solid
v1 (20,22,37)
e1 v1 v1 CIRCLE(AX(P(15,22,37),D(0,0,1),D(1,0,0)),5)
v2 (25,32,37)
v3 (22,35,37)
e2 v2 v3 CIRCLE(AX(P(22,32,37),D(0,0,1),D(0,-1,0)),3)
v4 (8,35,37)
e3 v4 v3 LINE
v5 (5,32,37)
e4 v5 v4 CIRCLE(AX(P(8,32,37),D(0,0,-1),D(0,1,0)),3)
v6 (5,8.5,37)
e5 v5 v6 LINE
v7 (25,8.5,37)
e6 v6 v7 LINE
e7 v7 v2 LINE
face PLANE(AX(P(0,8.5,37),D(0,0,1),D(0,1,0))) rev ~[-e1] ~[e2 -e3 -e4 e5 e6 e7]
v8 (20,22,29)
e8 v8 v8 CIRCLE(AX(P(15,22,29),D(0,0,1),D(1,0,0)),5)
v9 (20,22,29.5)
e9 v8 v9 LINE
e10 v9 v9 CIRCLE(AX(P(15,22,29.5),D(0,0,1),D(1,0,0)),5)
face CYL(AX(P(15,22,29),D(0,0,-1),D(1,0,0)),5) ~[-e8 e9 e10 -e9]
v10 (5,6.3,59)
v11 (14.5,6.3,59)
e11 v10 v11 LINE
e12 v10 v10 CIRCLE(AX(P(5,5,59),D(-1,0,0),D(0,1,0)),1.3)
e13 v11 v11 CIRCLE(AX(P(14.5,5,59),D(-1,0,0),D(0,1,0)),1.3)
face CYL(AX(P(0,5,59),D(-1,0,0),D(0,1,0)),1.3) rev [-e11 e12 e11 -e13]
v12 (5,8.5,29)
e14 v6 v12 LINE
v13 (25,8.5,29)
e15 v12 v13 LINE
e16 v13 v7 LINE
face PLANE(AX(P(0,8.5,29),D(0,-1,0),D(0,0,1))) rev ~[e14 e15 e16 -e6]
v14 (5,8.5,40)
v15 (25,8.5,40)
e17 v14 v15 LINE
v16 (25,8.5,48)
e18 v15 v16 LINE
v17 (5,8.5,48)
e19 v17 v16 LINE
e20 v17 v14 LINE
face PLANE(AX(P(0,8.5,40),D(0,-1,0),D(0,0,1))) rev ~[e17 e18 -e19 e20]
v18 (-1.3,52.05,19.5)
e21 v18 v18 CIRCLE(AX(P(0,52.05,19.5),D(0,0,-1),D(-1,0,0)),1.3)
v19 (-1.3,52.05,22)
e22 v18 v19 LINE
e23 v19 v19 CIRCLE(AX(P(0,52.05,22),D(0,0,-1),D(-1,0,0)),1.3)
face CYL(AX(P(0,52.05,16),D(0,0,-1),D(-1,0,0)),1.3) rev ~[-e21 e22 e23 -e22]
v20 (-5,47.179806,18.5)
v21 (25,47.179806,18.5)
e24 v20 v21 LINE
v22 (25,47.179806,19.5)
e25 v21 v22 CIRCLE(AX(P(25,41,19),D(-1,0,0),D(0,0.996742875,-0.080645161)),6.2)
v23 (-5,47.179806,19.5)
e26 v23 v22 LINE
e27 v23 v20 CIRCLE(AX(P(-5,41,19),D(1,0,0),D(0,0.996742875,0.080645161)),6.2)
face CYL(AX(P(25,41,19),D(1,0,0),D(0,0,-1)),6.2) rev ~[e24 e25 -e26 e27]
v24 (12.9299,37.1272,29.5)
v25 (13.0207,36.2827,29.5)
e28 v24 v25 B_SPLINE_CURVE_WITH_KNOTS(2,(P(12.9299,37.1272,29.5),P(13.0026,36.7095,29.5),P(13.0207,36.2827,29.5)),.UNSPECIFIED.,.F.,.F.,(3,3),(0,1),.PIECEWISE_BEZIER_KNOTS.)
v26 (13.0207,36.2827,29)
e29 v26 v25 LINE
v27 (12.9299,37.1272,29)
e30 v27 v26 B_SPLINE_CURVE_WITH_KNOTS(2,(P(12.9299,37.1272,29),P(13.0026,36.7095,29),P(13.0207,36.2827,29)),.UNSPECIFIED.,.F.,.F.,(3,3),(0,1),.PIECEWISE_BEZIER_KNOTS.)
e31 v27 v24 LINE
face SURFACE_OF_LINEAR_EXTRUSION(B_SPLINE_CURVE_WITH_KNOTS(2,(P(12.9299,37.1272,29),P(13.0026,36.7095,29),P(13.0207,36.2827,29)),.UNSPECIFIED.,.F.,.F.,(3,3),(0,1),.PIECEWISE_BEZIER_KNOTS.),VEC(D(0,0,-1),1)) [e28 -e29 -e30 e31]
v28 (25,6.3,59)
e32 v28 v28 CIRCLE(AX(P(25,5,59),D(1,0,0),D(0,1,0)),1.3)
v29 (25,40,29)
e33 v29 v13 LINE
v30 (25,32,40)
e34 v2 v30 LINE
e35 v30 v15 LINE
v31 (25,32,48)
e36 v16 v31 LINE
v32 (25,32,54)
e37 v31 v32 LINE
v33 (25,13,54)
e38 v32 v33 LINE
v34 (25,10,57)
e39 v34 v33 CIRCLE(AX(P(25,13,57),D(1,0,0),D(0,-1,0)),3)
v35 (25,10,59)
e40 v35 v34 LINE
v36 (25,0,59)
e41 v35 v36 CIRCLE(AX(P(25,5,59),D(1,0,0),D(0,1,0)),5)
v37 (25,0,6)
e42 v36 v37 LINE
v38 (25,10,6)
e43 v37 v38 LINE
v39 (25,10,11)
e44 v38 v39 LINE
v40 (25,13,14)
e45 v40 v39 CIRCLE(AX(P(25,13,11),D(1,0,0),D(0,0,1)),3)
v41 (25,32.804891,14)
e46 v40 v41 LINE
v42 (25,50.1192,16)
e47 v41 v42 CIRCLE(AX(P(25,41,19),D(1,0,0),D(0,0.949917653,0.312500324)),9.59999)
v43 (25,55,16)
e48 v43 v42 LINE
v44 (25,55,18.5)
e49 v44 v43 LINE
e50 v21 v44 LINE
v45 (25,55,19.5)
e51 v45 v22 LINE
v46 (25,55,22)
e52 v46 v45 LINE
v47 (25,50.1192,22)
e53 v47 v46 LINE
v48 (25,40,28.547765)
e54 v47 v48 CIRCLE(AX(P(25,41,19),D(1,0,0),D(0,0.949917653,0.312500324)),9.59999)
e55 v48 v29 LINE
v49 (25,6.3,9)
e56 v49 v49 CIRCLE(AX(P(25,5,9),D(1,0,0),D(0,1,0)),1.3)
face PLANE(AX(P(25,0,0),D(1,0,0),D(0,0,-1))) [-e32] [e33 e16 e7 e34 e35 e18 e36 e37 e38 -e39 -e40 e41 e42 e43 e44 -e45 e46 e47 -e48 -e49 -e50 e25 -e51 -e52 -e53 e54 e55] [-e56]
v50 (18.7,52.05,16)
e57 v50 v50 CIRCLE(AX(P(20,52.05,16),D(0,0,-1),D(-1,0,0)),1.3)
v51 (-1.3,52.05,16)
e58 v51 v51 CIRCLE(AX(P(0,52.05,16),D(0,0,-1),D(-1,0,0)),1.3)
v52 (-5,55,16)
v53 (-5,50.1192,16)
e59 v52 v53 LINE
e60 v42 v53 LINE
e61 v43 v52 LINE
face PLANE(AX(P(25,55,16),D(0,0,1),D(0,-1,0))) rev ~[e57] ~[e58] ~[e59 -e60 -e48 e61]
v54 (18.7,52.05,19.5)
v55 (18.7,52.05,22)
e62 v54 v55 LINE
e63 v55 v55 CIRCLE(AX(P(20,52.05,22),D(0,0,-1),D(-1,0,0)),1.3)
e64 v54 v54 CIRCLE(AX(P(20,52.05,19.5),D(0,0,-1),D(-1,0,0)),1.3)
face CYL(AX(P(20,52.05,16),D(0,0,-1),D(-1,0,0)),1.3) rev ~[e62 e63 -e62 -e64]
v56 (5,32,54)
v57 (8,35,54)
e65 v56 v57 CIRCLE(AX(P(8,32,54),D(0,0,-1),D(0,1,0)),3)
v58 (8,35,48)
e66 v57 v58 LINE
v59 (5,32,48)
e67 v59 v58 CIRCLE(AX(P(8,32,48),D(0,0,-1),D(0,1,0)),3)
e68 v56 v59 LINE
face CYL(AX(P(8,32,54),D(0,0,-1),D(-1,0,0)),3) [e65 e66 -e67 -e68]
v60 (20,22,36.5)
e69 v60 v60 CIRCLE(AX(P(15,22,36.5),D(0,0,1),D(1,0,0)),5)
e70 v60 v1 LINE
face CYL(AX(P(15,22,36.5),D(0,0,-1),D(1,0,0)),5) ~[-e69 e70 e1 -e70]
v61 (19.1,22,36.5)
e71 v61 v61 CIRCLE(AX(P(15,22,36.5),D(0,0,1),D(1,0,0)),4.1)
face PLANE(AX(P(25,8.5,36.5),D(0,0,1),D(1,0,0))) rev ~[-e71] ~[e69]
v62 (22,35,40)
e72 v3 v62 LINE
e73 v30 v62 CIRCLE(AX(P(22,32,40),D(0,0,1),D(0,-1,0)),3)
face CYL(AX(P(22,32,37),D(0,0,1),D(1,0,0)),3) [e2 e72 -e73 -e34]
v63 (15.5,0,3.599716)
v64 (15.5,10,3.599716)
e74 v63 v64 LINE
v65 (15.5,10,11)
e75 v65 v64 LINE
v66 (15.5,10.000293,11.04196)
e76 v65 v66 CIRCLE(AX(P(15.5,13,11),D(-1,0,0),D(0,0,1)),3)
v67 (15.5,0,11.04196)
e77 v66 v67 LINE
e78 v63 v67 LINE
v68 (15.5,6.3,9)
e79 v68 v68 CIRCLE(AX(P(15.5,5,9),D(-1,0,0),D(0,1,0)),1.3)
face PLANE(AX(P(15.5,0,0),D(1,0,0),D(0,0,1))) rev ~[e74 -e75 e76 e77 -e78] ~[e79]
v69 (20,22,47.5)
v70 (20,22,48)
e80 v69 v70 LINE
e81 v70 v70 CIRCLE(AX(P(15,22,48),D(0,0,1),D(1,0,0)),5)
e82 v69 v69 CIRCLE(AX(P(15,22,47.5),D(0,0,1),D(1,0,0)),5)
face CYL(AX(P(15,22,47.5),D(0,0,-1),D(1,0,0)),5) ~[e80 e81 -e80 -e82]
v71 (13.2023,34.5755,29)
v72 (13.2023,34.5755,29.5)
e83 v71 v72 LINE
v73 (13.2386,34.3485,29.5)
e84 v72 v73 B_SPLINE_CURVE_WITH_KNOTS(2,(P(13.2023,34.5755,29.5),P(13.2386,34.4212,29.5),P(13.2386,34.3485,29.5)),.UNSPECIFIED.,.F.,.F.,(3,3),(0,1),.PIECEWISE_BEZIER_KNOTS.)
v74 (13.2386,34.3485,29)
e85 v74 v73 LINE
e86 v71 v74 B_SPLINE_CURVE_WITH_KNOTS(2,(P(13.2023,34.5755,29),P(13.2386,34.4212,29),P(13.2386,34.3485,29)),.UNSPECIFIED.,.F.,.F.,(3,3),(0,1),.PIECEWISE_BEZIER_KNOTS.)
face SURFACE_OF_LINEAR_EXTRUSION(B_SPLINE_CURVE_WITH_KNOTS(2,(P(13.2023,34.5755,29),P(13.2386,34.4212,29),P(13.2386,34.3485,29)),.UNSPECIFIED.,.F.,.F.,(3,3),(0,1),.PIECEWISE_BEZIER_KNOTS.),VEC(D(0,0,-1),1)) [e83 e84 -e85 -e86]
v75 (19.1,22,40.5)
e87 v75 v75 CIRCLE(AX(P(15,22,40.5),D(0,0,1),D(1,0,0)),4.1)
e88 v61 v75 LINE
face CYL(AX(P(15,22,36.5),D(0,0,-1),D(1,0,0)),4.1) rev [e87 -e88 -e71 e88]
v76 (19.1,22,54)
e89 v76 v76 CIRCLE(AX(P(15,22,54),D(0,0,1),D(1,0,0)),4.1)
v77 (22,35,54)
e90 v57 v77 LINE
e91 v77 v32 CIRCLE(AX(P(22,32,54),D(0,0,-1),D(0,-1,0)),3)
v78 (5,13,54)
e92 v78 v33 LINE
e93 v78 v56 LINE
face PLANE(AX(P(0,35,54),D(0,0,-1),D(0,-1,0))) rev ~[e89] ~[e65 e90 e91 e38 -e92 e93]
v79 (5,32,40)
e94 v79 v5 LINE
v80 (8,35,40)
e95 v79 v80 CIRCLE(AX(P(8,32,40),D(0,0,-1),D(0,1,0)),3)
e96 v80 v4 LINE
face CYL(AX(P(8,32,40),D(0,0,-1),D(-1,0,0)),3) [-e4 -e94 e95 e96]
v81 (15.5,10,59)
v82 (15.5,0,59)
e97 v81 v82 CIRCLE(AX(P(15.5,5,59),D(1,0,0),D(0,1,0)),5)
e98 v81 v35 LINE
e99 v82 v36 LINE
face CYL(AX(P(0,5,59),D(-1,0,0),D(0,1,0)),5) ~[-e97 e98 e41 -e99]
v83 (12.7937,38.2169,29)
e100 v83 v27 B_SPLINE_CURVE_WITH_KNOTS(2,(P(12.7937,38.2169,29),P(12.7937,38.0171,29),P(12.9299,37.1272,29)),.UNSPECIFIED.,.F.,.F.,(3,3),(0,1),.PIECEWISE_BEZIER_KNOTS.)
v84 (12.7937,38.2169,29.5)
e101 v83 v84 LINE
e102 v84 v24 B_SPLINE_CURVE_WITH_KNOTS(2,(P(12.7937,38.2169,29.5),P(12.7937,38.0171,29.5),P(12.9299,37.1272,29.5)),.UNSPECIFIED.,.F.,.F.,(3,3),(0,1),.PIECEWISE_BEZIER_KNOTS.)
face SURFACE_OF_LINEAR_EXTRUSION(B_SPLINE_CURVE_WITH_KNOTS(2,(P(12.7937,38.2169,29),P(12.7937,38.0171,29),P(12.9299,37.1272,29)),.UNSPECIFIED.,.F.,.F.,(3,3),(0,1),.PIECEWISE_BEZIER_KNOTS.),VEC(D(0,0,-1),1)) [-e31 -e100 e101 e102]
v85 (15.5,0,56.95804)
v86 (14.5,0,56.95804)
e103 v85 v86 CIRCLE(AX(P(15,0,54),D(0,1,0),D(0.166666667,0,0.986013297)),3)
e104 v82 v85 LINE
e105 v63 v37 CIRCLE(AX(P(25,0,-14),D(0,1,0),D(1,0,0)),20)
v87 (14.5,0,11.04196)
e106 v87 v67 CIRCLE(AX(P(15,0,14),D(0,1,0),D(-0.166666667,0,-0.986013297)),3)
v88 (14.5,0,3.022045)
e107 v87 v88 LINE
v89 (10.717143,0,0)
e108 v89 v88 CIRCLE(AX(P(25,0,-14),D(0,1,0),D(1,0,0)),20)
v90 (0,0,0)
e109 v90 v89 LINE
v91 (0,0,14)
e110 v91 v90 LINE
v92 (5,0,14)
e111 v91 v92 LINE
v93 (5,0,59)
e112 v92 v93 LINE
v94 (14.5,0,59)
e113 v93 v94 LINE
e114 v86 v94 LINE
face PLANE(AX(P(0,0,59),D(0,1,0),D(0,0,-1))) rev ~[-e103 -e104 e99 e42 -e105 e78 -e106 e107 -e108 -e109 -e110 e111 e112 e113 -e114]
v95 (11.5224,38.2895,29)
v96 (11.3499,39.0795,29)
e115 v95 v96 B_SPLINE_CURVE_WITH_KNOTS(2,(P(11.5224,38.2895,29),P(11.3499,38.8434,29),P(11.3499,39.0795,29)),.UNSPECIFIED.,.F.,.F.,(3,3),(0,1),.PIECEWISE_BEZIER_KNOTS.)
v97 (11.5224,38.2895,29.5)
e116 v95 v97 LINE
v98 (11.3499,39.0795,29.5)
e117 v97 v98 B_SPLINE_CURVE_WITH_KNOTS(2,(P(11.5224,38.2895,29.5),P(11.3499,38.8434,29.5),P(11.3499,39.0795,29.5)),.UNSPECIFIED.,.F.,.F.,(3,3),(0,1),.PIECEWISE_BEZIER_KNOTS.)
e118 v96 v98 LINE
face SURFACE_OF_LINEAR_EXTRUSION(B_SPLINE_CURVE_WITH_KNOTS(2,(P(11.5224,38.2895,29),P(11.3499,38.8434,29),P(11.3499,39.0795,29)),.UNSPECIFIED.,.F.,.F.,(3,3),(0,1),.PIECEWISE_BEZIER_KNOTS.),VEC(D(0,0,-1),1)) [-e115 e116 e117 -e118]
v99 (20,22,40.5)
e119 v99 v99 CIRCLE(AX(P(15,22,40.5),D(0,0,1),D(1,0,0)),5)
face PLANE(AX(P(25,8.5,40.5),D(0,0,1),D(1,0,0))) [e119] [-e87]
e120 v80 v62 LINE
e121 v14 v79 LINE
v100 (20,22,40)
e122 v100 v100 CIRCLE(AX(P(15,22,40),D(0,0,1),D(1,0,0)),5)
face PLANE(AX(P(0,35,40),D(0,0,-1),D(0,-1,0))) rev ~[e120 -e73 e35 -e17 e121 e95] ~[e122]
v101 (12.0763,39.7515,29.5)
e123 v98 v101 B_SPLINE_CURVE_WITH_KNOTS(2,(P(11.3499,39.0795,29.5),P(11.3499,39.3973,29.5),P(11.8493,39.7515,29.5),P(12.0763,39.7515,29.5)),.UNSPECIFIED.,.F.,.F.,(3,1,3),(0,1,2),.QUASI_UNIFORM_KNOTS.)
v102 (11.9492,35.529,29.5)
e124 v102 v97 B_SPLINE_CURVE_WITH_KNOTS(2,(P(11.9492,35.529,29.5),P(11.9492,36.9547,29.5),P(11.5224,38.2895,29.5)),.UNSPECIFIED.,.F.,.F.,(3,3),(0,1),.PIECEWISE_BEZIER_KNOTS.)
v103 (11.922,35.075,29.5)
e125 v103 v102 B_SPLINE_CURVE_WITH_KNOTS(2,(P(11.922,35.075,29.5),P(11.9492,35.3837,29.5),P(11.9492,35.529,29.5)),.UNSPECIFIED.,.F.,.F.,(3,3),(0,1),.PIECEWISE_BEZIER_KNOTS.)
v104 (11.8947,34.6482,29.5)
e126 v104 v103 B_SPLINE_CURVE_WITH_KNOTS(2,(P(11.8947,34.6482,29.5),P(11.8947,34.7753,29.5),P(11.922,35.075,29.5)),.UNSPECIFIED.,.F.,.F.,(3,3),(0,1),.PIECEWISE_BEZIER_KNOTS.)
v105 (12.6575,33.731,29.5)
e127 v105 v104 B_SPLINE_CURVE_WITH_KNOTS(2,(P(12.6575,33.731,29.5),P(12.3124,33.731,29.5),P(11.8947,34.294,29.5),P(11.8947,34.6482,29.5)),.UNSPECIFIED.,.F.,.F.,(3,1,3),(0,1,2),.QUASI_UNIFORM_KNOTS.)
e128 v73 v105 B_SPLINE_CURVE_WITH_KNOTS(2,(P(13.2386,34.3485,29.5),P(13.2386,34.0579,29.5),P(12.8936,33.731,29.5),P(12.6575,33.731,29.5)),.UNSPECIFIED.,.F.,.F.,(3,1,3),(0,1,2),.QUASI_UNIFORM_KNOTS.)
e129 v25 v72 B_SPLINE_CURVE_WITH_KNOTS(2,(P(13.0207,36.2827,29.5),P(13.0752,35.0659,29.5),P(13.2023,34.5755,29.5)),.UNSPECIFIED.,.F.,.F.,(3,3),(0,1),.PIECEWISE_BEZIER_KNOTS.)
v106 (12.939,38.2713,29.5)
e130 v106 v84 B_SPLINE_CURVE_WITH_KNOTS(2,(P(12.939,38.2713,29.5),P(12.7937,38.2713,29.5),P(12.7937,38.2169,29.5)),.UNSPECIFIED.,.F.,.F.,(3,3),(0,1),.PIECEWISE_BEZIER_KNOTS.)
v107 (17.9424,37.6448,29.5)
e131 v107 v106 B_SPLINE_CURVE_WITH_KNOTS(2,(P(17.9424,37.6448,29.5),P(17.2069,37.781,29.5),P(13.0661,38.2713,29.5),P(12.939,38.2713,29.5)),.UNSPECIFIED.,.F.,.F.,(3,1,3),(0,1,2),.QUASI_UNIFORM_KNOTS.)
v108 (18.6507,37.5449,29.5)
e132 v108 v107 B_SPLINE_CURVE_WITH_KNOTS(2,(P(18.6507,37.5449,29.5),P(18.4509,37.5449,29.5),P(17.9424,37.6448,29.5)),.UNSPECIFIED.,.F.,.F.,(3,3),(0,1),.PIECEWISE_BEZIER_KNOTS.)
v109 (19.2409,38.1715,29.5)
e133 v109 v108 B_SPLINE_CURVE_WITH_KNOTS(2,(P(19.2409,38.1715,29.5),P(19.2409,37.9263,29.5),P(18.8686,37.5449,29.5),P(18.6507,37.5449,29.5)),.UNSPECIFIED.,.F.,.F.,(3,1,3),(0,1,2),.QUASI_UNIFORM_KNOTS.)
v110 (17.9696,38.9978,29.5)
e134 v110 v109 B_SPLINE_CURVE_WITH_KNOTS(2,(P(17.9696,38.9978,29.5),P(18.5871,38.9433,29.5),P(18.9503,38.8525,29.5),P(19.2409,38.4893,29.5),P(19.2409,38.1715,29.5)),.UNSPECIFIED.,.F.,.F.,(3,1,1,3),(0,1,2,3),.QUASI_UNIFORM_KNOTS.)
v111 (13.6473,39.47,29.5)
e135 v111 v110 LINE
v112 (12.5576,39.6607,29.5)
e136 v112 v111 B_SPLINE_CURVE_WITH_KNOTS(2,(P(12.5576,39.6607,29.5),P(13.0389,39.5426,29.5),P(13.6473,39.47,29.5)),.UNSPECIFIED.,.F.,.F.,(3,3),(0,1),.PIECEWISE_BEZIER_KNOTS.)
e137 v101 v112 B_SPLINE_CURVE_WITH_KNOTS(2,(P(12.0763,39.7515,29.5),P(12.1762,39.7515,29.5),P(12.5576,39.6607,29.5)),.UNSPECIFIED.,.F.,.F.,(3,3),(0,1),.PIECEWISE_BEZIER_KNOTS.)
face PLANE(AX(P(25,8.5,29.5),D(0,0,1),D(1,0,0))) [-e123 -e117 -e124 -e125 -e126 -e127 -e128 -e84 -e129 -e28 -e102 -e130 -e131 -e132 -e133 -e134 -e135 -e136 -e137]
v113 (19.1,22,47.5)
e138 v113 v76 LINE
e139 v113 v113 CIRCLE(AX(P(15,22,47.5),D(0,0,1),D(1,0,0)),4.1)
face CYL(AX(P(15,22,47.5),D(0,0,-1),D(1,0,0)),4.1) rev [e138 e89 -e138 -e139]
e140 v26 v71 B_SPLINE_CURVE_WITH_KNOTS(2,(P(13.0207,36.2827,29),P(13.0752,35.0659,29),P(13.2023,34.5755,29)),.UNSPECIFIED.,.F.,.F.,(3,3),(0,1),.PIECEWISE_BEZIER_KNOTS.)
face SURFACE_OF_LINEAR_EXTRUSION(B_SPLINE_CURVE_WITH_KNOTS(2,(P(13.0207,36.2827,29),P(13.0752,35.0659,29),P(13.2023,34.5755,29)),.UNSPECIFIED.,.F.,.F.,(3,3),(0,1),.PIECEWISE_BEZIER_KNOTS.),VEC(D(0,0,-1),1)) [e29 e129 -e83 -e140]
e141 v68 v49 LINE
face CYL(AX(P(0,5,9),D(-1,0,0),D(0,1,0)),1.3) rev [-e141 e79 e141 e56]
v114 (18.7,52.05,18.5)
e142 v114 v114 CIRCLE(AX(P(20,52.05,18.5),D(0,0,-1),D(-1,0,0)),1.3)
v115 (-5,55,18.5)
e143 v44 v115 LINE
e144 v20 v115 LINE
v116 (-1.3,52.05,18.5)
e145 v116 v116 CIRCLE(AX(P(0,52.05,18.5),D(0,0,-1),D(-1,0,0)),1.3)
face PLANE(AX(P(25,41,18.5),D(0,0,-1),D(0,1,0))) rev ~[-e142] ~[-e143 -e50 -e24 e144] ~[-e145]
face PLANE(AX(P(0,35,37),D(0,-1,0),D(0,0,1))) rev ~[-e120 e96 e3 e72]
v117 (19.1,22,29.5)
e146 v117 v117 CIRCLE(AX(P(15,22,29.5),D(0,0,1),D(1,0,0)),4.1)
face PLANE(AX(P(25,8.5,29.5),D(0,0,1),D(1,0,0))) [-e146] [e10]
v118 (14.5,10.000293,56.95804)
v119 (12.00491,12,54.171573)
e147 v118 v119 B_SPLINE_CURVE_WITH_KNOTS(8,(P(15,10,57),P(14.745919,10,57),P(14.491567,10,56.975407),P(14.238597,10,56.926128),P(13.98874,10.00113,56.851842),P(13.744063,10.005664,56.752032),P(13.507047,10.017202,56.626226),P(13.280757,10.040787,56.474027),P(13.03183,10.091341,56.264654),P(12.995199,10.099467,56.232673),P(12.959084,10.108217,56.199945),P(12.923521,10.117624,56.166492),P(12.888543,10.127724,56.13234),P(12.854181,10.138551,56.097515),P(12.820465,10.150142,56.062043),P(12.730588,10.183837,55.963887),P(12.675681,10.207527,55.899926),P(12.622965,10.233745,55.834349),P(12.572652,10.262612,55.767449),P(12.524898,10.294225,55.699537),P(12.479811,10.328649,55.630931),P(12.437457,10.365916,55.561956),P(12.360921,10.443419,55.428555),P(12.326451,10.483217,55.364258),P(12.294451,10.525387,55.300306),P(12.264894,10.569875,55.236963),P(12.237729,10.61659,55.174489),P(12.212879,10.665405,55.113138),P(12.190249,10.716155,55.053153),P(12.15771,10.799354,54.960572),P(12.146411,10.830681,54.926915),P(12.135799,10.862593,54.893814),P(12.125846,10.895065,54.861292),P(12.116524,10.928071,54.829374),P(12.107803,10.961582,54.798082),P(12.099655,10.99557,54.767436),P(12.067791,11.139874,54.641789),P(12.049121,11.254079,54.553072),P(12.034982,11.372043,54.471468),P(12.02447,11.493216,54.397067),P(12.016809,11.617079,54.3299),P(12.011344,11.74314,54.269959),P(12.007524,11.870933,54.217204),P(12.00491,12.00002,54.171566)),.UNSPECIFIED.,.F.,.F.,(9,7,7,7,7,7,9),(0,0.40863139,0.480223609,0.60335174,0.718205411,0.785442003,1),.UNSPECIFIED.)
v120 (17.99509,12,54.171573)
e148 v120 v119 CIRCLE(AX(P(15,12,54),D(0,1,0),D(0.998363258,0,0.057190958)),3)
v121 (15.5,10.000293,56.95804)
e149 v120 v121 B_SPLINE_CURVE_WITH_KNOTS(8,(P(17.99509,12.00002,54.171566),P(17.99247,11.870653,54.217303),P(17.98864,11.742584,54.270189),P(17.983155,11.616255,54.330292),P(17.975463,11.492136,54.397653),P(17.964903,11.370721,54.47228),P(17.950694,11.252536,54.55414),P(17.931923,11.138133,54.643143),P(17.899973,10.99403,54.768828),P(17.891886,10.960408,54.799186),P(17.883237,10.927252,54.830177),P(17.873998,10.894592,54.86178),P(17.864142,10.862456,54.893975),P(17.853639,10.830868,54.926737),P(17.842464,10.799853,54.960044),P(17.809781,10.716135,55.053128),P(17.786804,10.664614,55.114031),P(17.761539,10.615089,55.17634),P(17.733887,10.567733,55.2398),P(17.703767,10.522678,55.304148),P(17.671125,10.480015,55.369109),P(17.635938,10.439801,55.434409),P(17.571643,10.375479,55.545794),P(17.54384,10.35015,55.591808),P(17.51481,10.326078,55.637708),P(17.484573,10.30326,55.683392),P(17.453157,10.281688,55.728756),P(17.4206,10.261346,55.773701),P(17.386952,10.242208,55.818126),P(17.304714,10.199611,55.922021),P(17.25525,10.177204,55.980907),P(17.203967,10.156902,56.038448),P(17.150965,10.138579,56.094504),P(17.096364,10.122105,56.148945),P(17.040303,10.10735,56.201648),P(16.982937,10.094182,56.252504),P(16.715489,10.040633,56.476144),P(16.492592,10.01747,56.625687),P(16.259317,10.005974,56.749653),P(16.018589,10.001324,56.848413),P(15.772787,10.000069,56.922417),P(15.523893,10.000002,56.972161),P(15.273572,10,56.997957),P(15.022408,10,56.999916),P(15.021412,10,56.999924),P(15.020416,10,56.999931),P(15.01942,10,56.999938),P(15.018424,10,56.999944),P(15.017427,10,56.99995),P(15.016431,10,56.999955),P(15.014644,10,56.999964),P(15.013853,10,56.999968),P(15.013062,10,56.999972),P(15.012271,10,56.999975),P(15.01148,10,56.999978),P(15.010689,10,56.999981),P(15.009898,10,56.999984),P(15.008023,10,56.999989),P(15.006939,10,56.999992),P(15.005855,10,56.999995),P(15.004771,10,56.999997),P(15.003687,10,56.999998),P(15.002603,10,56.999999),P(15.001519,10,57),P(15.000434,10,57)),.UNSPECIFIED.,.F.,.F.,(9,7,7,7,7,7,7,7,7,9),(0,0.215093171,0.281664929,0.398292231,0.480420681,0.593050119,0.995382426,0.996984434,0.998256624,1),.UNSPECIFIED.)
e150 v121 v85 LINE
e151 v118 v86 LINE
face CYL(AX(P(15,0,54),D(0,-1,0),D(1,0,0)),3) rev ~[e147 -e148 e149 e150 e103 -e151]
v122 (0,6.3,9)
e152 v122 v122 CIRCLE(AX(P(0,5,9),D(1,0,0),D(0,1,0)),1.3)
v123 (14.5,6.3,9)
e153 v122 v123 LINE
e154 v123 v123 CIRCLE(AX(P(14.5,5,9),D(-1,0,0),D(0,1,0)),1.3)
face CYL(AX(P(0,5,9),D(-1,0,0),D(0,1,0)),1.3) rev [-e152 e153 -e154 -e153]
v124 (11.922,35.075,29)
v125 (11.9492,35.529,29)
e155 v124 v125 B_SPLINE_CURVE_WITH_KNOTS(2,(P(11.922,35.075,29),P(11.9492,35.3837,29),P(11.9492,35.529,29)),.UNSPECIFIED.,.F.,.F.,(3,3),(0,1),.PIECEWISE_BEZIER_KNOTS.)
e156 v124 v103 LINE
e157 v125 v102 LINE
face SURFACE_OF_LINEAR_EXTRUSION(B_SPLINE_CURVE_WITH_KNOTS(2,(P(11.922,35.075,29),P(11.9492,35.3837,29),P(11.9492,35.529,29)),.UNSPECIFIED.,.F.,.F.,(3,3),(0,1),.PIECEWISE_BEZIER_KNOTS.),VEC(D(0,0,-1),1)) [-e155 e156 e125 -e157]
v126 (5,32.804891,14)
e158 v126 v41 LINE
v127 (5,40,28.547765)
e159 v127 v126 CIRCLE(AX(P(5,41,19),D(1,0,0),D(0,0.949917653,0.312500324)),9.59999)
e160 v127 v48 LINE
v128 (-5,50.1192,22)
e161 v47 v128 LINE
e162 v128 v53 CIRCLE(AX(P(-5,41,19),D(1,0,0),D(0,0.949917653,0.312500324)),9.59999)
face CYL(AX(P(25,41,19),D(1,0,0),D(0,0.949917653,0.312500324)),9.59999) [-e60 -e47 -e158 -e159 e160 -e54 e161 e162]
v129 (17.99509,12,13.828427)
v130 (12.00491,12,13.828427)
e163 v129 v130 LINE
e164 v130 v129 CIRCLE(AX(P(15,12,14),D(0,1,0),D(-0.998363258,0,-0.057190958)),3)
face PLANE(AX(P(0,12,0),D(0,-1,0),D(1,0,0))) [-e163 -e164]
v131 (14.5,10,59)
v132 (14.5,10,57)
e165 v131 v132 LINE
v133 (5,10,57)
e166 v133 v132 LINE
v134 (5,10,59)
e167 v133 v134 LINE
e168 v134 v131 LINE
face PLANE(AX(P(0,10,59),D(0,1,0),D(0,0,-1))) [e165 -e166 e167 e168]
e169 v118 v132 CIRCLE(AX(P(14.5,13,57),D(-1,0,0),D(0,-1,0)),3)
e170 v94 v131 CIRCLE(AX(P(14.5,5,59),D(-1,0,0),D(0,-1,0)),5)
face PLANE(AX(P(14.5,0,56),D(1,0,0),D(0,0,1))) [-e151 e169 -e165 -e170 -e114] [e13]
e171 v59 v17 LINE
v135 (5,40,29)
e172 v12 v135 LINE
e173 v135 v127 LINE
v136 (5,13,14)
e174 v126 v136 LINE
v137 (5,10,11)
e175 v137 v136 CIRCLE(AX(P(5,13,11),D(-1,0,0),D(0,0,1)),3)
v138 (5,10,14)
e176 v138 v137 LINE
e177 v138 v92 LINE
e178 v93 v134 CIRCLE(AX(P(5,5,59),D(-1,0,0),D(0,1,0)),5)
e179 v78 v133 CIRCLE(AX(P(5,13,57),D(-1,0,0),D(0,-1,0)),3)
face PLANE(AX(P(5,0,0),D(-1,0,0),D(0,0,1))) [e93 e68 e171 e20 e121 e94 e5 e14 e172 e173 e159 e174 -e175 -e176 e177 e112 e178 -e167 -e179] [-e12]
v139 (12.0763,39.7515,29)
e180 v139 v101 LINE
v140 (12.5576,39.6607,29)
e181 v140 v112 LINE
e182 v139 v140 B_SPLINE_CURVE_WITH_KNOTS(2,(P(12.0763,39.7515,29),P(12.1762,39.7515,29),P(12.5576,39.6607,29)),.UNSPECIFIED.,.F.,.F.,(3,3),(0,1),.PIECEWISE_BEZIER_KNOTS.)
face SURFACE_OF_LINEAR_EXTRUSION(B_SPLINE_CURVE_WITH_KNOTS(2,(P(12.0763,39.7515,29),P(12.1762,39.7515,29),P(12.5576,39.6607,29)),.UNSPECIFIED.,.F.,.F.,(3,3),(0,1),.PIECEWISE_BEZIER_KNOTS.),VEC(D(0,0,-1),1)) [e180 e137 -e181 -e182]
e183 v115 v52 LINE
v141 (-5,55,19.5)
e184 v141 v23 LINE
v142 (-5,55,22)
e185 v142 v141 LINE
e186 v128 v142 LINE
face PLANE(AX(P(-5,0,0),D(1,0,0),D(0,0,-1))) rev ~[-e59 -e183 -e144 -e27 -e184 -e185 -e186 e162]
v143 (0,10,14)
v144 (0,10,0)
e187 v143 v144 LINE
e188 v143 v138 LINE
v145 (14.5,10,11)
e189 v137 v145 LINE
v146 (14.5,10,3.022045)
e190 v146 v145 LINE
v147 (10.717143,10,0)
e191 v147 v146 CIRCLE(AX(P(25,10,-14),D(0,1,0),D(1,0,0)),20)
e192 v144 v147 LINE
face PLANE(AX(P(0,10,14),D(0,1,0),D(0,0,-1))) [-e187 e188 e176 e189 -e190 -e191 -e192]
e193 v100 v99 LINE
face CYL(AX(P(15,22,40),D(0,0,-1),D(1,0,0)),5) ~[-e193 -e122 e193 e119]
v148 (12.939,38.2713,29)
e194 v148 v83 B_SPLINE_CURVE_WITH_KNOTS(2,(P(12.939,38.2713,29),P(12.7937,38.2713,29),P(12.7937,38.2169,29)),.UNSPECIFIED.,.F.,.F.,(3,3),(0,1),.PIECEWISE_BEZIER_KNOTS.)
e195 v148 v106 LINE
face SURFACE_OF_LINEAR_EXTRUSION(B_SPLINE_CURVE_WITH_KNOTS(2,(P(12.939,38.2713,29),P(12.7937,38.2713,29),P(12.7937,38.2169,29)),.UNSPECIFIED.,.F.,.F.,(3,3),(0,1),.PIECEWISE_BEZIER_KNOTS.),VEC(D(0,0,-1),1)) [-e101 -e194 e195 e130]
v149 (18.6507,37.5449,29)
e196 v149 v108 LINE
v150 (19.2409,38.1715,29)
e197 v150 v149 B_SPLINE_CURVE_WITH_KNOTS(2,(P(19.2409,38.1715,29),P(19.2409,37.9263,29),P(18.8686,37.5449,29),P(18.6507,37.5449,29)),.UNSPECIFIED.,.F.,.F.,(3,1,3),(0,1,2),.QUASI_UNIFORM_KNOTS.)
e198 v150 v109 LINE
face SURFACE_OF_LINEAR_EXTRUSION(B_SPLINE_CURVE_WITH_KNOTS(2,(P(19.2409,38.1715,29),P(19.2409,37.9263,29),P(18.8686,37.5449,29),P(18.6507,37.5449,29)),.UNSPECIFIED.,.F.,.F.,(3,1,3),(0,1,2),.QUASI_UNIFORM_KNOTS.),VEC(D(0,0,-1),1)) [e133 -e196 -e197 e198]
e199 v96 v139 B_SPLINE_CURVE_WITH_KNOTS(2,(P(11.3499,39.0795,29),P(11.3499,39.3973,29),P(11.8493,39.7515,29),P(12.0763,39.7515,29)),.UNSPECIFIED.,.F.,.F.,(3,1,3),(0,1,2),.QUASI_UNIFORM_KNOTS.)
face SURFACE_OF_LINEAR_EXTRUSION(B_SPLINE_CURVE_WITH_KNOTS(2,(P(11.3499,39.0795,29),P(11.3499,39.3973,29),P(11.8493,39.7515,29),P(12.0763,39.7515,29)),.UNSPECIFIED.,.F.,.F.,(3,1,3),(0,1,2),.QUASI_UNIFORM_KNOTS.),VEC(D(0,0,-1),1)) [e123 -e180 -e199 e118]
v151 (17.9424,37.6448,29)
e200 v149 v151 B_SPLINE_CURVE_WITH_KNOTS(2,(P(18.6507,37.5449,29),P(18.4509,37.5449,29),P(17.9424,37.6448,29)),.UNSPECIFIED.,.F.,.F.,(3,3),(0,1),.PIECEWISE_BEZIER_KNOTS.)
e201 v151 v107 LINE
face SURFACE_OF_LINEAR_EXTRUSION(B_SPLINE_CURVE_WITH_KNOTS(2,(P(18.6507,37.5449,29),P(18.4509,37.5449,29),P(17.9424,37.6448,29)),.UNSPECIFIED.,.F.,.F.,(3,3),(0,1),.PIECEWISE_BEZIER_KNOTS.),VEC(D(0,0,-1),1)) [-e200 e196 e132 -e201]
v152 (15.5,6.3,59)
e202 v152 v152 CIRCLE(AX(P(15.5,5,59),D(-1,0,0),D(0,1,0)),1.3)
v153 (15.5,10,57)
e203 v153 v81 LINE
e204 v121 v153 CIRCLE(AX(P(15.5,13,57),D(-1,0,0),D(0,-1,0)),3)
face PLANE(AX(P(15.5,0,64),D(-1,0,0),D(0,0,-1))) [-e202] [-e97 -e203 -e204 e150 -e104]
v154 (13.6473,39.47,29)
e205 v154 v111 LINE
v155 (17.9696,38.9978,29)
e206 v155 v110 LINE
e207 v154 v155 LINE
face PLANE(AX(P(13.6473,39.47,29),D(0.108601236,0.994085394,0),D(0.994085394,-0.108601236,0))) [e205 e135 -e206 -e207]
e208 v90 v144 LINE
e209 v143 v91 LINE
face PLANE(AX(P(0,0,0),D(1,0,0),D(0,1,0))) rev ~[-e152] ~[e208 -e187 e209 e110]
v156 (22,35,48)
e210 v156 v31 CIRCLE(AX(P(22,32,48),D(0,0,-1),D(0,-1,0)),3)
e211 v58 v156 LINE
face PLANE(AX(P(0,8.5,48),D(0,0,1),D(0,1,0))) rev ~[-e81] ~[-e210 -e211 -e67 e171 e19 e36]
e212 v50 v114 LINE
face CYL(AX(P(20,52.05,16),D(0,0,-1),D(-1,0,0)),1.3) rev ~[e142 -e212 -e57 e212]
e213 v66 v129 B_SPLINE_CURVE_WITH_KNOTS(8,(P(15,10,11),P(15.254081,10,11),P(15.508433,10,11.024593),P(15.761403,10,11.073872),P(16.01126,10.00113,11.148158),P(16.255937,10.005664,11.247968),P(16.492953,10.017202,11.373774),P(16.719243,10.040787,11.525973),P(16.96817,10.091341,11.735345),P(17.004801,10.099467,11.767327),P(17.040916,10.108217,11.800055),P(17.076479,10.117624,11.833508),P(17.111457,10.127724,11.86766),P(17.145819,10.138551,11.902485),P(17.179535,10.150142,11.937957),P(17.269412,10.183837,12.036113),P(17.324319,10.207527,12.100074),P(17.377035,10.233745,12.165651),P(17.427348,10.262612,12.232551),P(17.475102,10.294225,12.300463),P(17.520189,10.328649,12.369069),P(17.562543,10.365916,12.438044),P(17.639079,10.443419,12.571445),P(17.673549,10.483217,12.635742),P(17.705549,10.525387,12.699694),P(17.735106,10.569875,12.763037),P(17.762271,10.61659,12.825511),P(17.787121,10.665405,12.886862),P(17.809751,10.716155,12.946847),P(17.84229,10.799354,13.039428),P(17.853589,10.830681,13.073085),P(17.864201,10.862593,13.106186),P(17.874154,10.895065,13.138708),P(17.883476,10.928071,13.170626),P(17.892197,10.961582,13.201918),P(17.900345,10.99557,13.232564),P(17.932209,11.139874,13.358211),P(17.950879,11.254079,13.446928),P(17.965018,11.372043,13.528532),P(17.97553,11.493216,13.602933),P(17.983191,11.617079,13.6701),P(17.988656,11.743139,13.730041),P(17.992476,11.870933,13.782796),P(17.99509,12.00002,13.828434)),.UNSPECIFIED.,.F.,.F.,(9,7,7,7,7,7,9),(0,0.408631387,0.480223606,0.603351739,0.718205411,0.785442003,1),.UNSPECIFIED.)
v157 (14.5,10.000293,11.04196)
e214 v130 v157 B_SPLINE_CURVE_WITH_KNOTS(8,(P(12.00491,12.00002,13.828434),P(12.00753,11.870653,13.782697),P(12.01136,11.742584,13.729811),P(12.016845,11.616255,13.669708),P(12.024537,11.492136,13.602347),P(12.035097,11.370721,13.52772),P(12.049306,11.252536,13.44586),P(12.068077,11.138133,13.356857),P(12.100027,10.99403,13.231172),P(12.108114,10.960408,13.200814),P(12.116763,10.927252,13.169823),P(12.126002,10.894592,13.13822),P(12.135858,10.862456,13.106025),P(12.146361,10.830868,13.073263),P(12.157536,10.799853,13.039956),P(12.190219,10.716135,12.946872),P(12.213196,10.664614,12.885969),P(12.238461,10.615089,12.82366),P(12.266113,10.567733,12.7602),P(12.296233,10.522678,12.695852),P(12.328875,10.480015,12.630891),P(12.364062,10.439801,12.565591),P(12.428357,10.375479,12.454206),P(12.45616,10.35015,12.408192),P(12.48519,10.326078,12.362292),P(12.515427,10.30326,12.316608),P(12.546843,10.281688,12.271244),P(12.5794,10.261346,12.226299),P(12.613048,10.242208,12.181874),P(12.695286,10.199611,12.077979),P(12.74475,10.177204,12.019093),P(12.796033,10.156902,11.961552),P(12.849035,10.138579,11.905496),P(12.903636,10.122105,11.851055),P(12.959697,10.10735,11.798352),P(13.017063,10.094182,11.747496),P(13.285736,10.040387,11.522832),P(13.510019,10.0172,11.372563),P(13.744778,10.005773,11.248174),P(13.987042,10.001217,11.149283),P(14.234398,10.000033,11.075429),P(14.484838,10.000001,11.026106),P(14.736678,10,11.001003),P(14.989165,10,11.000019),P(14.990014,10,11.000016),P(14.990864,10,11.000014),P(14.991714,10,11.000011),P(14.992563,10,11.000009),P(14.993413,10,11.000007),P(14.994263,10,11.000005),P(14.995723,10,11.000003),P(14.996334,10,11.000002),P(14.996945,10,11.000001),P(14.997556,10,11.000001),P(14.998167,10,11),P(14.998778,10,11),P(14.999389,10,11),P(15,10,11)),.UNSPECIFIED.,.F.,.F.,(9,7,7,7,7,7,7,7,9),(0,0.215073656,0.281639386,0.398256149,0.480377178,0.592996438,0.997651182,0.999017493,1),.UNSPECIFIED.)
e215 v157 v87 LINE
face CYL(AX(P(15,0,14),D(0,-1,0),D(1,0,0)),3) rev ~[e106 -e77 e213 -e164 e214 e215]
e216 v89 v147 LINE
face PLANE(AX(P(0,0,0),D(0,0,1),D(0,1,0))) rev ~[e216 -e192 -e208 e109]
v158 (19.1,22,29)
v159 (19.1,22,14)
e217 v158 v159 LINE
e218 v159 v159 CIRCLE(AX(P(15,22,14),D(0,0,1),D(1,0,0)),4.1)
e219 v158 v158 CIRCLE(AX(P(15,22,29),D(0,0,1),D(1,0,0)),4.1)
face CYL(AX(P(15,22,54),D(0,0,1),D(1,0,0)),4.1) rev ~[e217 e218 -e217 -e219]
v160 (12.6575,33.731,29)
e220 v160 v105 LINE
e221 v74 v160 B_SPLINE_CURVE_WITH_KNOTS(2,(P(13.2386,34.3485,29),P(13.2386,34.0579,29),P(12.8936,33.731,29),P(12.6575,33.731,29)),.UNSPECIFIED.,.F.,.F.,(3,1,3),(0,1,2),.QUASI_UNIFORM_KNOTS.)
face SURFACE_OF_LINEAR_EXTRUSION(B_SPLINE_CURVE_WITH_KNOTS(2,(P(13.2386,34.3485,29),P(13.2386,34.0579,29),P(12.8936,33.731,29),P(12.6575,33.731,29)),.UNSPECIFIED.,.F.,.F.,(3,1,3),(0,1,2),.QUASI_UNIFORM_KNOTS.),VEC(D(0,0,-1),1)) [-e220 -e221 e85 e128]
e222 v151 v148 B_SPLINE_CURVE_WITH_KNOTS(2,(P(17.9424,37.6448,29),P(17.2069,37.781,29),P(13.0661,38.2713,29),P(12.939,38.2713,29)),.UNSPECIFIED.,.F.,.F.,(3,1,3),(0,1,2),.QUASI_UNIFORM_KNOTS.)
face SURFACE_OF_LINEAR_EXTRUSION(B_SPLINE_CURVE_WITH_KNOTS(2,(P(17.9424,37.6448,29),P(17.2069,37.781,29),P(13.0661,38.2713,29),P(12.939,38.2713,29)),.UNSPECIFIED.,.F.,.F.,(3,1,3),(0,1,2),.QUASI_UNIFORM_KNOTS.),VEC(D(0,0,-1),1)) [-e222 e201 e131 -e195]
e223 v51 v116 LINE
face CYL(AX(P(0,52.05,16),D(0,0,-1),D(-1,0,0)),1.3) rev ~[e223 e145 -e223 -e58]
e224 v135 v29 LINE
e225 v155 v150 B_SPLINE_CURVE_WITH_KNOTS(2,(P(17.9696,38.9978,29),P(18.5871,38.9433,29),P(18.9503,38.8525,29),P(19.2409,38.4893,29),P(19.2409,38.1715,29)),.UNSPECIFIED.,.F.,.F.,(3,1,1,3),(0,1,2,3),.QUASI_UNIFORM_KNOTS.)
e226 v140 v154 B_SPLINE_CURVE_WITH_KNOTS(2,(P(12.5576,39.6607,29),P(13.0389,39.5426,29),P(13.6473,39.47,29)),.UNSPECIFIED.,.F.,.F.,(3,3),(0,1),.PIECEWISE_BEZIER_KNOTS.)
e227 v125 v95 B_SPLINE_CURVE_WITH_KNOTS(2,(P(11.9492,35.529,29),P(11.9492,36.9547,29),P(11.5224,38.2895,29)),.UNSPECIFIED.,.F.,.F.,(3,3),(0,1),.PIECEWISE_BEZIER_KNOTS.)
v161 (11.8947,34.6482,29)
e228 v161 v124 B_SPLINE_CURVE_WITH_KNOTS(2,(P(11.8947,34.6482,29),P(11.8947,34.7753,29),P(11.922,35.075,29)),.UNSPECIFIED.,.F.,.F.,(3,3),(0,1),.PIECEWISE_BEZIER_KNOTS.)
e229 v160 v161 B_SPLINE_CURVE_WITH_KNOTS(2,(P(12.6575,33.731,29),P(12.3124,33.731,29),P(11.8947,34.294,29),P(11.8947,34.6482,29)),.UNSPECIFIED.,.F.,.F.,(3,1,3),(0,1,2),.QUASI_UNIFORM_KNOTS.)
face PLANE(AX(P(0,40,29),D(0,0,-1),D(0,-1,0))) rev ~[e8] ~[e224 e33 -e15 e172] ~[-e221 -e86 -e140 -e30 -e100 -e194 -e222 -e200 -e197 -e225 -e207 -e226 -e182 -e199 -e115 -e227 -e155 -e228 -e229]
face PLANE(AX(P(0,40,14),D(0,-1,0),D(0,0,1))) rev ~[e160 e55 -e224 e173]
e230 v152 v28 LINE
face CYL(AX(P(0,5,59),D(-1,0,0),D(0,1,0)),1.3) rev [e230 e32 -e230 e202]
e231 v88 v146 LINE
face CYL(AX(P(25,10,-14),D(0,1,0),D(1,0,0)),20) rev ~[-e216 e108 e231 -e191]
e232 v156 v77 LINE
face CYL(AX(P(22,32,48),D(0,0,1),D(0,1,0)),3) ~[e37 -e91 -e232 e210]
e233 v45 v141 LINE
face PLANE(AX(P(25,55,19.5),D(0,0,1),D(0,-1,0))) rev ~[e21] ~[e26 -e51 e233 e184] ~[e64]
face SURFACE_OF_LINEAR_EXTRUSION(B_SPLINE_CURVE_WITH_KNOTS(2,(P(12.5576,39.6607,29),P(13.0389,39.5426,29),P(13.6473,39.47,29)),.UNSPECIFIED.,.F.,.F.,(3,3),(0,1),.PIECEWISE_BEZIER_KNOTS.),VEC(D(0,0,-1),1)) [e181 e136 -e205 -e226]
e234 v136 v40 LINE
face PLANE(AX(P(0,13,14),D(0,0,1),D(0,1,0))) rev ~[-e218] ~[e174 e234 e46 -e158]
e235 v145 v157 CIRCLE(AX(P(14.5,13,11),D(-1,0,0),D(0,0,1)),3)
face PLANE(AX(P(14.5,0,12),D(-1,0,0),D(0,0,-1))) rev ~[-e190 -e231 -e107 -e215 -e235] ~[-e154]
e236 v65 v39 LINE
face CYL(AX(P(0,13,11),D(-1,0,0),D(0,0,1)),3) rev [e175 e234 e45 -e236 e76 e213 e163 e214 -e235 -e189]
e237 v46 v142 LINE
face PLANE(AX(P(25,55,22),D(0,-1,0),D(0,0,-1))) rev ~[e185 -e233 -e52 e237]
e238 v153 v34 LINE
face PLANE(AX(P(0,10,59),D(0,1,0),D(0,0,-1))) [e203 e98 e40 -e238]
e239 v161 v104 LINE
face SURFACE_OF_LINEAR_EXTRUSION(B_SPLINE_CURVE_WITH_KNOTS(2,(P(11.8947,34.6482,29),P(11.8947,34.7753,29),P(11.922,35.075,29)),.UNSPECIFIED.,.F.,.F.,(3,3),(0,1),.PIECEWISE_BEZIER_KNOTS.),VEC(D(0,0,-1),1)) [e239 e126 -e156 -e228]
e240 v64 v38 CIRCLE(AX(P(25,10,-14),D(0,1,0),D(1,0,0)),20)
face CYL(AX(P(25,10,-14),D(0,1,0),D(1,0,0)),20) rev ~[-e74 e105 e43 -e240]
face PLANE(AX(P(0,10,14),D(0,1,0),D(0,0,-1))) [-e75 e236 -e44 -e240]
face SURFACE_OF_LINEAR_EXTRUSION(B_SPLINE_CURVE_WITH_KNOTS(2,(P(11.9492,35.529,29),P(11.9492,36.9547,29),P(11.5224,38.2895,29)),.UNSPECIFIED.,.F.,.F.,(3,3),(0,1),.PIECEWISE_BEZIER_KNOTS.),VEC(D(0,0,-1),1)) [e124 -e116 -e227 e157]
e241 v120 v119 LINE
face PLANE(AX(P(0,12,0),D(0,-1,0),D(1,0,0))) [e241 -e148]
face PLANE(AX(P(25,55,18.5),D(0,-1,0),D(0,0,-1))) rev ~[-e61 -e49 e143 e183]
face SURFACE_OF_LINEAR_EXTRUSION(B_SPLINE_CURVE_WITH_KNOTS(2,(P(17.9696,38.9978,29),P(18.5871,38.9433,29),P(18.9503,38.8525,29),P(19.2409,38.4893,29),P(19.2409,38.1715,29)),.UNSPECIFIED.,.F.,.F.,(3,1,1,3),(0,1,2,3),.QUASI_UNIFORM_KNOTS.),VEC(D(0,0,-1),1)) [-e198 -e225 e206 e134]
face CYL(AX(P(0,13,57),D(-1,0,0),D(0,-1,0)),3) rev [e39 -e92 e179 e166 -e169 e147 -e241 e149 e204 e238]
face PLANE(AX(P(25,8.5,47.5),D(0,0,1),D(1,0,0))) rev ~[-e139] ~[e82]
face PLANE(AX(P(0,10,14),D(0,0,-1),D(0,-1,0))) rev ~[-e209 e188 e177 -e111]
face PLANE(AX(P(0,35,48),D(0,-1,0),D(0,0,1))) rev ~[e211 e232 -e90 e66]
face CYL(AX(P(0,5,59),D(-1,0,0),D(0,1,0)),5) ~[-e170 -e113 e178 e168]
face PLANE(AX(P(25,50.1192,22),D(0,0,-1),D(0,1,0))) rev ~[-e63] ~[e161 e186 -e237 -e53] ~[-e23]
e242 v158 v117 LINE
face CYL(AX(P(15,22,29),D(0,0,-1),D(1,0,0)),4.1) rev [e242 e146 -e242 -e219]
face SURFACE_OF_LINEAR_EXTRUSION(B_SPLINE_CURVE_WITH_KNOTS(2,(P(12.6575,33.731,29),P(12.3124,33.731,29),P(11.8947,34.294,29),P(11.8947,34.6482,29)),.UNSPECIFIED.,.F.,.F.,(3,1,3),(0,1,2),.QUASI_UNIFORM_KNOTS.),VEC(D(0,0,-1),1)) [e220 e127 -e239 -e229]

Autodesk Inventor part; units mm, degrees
ref_plane "YZ Plane" through (0, 0, 0) normal (1, 0, 0) x (0, 1, 0)
ref_plane "XZ Plane" through (0, 0, 0) normal (0, 1, 0) x (-1, 0, 0)
ref_plane "XY Plane" through (0, 0, 0) normal (0, 0, 1) x (1, 0, 0)
sketch "Sketch1" plane through (0, 0, 0) normal (1, 0, 0) x (0, 1, 0)
  line L0 (0, 0) -> (10, 0)
  line L1 (10, 0) -> (10, 11)
  line L2 (13, 14) -> (40, 14)
  line L3 (40, 14) -> (40, 29)
  line L4 (40, 29) -> (8.5, 29)
  line L5 (8.5, 29) -> (8.5, 37)
  line L6 (8.5, 37) -> (35, 37)
  line L7 (35, 37) -> (35, 40)
  line L8 (35, 40) -> (8.5, 40)
  line L9 (8.5, 40) -> (8.5, 48)
  line L10 (8.5, 48) -> (35, 48)
  line L11 (35, 48) -> (35, 54)
  line L12 (35, 54) -> (13, 54)
  circle A0 centre (5, 59) radius 1.3
  arc A1 (10, 59) -> (0, 59) centre (5, 59) ccw
  line L13 (0, 59) -> (0, 0)
  line L14 (10, 59) -> (10, 57)
  arc A2 (10, 57) -> (13, 54) centre (13, 57) ccw
  circle A3 centre (5, 9) radius 1.3
  arc A4 (13, 14) -> (10, 11) centre (13, 11) ccw
  point P0 (10, 14)
  dimension "d0" = 10
  dimension "d1" = 14
  dimension "d2" = 30
  dimension "d3" = 15
  dimension "d4" = 31.5
  dimension "d5" = 8
  dimension "d6" = 26.5
  dimension "d7" = 3
  dimension "d8" = 8
  dimension "d9" = 6
  dimension "d10" = 2.6
  dimension "d11" = 5
  dimension "d12" = 3
  dimension "d13" = 59
  dimension "d33" = 9
  dimension "d75" = 3
extrude "Extrusion5" add sketch "Sketch1" along normal blind 25
sketch "Sketch2" plane through (0, 0, 0) normal (-1, 0, 0) x (0, 0, 1)
  line L0 (14, 10) -> (14, 0)
  line L1 (14, 0) -> (69, 0)
  line L2 (69, 0) -> (69, 45)
  line L3 (0, 0) -> (0, 10) projected
  line L4 (69, 45) -> (0, 45)
  line L5 (0, 45) -> (0, 10)
  line L6 (0, 10) -> (11, 10) projected
  line L7 (14, 10) -> (0, 10)
  dimension "d17" = 45
  dimension "d18" = 55
  dimension "d76" = 10
  dimension "d77" = 14
extrude "Extrusion6" cut sketch "Sketch2" against normal blind 5
sketch "Sketch3" plane through (25, 0, 0) normal (1, 0, 0) x (0, 0, -1)
  arc A0 (-22, 50.1192) -> (-16, 50.1192) centre (-19, 41) ccw
  line L0 (0, 0) -> (0, 10)
  line L1 (-22, 50.1192) -> (-22, 55)
  line L2 (-22, 55) -> (-19.5, 55)
  line L3 (-19.5, 55) -> (-19.5, 41)
  line L4 (-19.5, 41) -> (-18.5, 41)
  line L5 (-18.5, 41) -> (-18.5, 55)
  line L6 (-18.5, 55) -> (-16, 55)
  line L7 (-16, 55) -> (-16, 50.1192)
  dimension "d21" = 9.6
  dimension "d22" = 41
  dimension "d23" = 19
  dimension "d24" = 1
  dimension "d25" = 2.5
  dimension "d26" = 2.5
  dimension "d27" = 14
extrude "Extrusion3" add sketch "Sketch3" against normal blind 30
sketch "Sketch4" plane through (25, 0, 0) normal (1, 0, 0) x (0, 0, -1)
  circle A0 centre (-19, 41) radius 6.2
  line L0 (-18.5, 41) -> (-19.5, 41)
  point P0 (0, 0)
  dimension "d30" = 12.4
extrude "Extrusion7" cut sketch "Sketch4" against normal up to next
sketch "Sketch5" plane through (0, 0, 0) normal (0, -1, 0) x (1, 0, 0)
  circle A0 centre (15, 14) radius 3
  circle A1 centre (15, 54) radius 3
  line L0 (25, 59) -> (25, 0) projected
  line L1 (0, 0) -> (25, 0) projected
  dimension "d40" = 6
  dimension "d41" = 40
  dimension "d42" = 10
  dimension "d43" = 14
extrude "Extrusion8" cut sketch "Sketch5" against normal blind 12
sketch "Sketch6" plane through (0, 0, 0) normal (0, -1, 0) x (1, 0, 0)
  line L0 (14.5, 0) -> (15.5, 0)
  line L1 (15.5, 0) -> (15.5, 12)
  line L2 (15.5, 12) -> (14.5, 12)
  line L3 (14.5, 12) -> (14.5, 0)
  line L4 (14.5, 64) -> (15.5, 64)
  line L5 (15.5, 64) -> (15.5, 56)
  line L6 (15.5, 56) -> (14.5, 56)
  line L7 (14.5, 56) -> (14.5, 64)
  line L8 (25, 59) -> (25, 0) projected
  line L9 (5, 64) -> (25, 64) construction
  point P0 (0, 0)
  dimension "d46" = 1
  dimension "d47" = 1
  dimension "d48" = 9.5
  dimension "d49" = 8
  dimension "d50" = 12
extrude "Extrusion9" cut sketch "Sketch6" against normal blind 12
sketch "Sketch7" plane through (25, 13, 54) normal (0, 0, 1) x (1, 0, 0)
  circle A0 centre (-10, 9) radius 4.1
  line L0 (-20, 27) -> (0, 27) projected
  line L1 (0, 22) -> (0, 0) projected
  point P0 (-25, -13)
  dimension "d53" = 8.2
  dimension "d54" = 18
  dimension "d55" = 10
extrude "Extrusion10" cut sketch "Sketch7" against normal through all
sketch "Sketch8" plane through (25, 8.5, 29) normal (0, 0, 1) x (1, 0, 0)
  circle A0 centre (-10, 13.5) radius 4.1 projected
  circle A1 centre (-10, 13.5) radius 5
  point P0 (-25, -8.5)
  dimension "d58" = 10
extrude "Extrusion11" add sketch "Sketch8" along normal blind 0.5
pattern_linear "Rectangular Pattern1" count 2 spacing 11 along (0, 0, 1) of "Extrusion11"
pattern_linear "Rectangular Pattern2" count 2 spacing 7.5 along (0, 0, 1) of "Extrusion11", "Rectangular Pattern1"
sketch "Sketch9" plane through (25, 50.1192, 16) normal (0, 0, -1) x (-1, 0, 0)
  circle A0 centre (5, 1.9308) radius 1.3
  circle A1 centre (25, 1.9308) radius 1.3
  line L0 (0, 4.8808) -> (30, 4.8808) projected
  line L1 (0, 0) -> (0, 4.8808) projected
  line L2 (30, 4.8808) -> (30, 0) projected
  point P0 (25, -50.1192)
  dimension "d67" = 2.6
  dimension "d68" = 2.95
  dimension "d69" = 5
  dimension "d70" = 5
extrude "Extrusion12" cut sketch "Sketch9" against normal through all
sketch "Sketch10" plane through (25, 8.5, 29) normal (0, 0, 1) x (1, 0, 0)
  spline S0 degree 2 poles (-13.1053, 26.1482) (-13.1053, 26.2753) (-13.078, 26.575) knots 0 0 0 1 1 1
  spline S1 degree 2 poles (-13.078, 26.575) (-13.0508, 26.8837) (-13.0508, 27.029) knots 0 0 0 1 1 1
  spline S2 degree 2 poles (-13.0508, 27.029) (-13.0508, 28.4547) (-13.4776, 29.7895) knots 0 0 0 1 1 1
  spline S3 degree 2 poles (-13.4776, 29.7895) (-13.6501, 30.3434) (-13.6501, 30.5795) knots 0 0 0 1 1 1
  spline S4 degree 2 poles (-13.6501, 30.5795) (-13.6501, 30.8973) (-13.1507, 31.2515) (-12.9237, 31.2515) knots 0 0 0 1 2 2 2
  spline S5 degree 2 poles (-12.9237, 31.2515) (-12.8238, 31.2515) (-12.4424, 31.1607) knots 0 0 0 1 1 1
  spline S6 degree 2 poles (-12.4424, 31.1607) (-11.9611, 31.0426) (-11.3527, 30.97) knots 0 0 0 1 1 1
  line L0 (-11.3527, 30.97) -> (-7.0304, 30.4978)
  spline S7 degree 2 poles (-7.0304, 30.4978) (-6.4129, 30.4433) (-6.0497, 30.3525) (-5.7591, 29.9893) (-5.7591, 29.6715) knots 0 0 0 1 2 3 3 3
  spline S8 degree 2 poles (-5.7591, 29.6715) (-5.7591, 29.4263) (-6.1314, 29.0449) (-6.3493, 29.0449) knots 0 0 0 1 2 2 2
  spline S9 degree 2 poles (-6.3493, 29.0449) (-6.5491, 29.0449) (-7.0576, 29.1448) knots 0 0 0 1 1 1
  spline S10 degree 2 poles (-7.0576, 29.1448) (-7.7931, 29.281) (-11.9339, 29.7713) (-12.061, 29.7713) knots 0 0 0 1 2 2 2
  spline S11 degree 2 poles (-12.061, 29.7713) (-12.2063, 29.7713) (-12.2063, 29.7169) knots 0 0 0 1 1 1
  spline S12 degree 2 poles (-12.2063, 29.7169) (-12.2063, 29.5171) (-12.0701, 28.6272) knots 0 0 0 1 1 1
  spline S13 degree 2 poles (-12.0701, 28.6272) (-11.9974, 28.2095) (-11.9793, 27.7827) knots 0 0 0 1 1 1
  spline S14 degree 2 poles (-11.9793, 27.7827) (-11.9248, 26.5659) (-11.7977, 26.0755) knots 0 0 0 1 1 1
  spline S15 degree 2 poles (-11.7977, 26.0755) (-11.7614, 25.9212) (-11.7614, 25.8485) knots 0 0 0 1 1 1
  spline S16 degree 2 poles (-11.7614, 25.8485) (-11.7614, 25.5579) (-12.1064, 25.231) (-12.3425, 25.231) knots 0 0 0 1 2 2 2
  spline S17 degree 2 poles (-12.3425, 25.231) (-12.6876, 25.231) (-13.1053, 25.794) (-13.1053, 26.1482) knots 0 0 0 1 2 2 2
  point P0 (-25, -8.5)
  point P1 (-5.7591, 31.9144)
extrude "Extrusion13" add sketch "Sketch10" along normal blind 0.5
fillet "Fillet1" radius 3 4 edges at (5, 35, 51) (5, 35, 38.5) (25, 35, 51) (25, 35, 38.5)
sketch "Sketch11" plane through (25, 10, 11) normal (0, 1, 0) x (1, 0, 0)
  circle A0 centre (0, 25) radius 20
  line L0 (-9.5, 11) -> (0, 11) projected
  point P0 (-25, 11)
  point P1 (0, 0)
  dimension "d79" = 40
  dimension "d80" = 14
extrude "Extrusion14" cut sketch "Sketch11" against normal up to next
equation "\"d26\" = d25"
equation "\"d47\" = d46"
equation "\"d70\" = d69"
properties material "ABS Plastic"
